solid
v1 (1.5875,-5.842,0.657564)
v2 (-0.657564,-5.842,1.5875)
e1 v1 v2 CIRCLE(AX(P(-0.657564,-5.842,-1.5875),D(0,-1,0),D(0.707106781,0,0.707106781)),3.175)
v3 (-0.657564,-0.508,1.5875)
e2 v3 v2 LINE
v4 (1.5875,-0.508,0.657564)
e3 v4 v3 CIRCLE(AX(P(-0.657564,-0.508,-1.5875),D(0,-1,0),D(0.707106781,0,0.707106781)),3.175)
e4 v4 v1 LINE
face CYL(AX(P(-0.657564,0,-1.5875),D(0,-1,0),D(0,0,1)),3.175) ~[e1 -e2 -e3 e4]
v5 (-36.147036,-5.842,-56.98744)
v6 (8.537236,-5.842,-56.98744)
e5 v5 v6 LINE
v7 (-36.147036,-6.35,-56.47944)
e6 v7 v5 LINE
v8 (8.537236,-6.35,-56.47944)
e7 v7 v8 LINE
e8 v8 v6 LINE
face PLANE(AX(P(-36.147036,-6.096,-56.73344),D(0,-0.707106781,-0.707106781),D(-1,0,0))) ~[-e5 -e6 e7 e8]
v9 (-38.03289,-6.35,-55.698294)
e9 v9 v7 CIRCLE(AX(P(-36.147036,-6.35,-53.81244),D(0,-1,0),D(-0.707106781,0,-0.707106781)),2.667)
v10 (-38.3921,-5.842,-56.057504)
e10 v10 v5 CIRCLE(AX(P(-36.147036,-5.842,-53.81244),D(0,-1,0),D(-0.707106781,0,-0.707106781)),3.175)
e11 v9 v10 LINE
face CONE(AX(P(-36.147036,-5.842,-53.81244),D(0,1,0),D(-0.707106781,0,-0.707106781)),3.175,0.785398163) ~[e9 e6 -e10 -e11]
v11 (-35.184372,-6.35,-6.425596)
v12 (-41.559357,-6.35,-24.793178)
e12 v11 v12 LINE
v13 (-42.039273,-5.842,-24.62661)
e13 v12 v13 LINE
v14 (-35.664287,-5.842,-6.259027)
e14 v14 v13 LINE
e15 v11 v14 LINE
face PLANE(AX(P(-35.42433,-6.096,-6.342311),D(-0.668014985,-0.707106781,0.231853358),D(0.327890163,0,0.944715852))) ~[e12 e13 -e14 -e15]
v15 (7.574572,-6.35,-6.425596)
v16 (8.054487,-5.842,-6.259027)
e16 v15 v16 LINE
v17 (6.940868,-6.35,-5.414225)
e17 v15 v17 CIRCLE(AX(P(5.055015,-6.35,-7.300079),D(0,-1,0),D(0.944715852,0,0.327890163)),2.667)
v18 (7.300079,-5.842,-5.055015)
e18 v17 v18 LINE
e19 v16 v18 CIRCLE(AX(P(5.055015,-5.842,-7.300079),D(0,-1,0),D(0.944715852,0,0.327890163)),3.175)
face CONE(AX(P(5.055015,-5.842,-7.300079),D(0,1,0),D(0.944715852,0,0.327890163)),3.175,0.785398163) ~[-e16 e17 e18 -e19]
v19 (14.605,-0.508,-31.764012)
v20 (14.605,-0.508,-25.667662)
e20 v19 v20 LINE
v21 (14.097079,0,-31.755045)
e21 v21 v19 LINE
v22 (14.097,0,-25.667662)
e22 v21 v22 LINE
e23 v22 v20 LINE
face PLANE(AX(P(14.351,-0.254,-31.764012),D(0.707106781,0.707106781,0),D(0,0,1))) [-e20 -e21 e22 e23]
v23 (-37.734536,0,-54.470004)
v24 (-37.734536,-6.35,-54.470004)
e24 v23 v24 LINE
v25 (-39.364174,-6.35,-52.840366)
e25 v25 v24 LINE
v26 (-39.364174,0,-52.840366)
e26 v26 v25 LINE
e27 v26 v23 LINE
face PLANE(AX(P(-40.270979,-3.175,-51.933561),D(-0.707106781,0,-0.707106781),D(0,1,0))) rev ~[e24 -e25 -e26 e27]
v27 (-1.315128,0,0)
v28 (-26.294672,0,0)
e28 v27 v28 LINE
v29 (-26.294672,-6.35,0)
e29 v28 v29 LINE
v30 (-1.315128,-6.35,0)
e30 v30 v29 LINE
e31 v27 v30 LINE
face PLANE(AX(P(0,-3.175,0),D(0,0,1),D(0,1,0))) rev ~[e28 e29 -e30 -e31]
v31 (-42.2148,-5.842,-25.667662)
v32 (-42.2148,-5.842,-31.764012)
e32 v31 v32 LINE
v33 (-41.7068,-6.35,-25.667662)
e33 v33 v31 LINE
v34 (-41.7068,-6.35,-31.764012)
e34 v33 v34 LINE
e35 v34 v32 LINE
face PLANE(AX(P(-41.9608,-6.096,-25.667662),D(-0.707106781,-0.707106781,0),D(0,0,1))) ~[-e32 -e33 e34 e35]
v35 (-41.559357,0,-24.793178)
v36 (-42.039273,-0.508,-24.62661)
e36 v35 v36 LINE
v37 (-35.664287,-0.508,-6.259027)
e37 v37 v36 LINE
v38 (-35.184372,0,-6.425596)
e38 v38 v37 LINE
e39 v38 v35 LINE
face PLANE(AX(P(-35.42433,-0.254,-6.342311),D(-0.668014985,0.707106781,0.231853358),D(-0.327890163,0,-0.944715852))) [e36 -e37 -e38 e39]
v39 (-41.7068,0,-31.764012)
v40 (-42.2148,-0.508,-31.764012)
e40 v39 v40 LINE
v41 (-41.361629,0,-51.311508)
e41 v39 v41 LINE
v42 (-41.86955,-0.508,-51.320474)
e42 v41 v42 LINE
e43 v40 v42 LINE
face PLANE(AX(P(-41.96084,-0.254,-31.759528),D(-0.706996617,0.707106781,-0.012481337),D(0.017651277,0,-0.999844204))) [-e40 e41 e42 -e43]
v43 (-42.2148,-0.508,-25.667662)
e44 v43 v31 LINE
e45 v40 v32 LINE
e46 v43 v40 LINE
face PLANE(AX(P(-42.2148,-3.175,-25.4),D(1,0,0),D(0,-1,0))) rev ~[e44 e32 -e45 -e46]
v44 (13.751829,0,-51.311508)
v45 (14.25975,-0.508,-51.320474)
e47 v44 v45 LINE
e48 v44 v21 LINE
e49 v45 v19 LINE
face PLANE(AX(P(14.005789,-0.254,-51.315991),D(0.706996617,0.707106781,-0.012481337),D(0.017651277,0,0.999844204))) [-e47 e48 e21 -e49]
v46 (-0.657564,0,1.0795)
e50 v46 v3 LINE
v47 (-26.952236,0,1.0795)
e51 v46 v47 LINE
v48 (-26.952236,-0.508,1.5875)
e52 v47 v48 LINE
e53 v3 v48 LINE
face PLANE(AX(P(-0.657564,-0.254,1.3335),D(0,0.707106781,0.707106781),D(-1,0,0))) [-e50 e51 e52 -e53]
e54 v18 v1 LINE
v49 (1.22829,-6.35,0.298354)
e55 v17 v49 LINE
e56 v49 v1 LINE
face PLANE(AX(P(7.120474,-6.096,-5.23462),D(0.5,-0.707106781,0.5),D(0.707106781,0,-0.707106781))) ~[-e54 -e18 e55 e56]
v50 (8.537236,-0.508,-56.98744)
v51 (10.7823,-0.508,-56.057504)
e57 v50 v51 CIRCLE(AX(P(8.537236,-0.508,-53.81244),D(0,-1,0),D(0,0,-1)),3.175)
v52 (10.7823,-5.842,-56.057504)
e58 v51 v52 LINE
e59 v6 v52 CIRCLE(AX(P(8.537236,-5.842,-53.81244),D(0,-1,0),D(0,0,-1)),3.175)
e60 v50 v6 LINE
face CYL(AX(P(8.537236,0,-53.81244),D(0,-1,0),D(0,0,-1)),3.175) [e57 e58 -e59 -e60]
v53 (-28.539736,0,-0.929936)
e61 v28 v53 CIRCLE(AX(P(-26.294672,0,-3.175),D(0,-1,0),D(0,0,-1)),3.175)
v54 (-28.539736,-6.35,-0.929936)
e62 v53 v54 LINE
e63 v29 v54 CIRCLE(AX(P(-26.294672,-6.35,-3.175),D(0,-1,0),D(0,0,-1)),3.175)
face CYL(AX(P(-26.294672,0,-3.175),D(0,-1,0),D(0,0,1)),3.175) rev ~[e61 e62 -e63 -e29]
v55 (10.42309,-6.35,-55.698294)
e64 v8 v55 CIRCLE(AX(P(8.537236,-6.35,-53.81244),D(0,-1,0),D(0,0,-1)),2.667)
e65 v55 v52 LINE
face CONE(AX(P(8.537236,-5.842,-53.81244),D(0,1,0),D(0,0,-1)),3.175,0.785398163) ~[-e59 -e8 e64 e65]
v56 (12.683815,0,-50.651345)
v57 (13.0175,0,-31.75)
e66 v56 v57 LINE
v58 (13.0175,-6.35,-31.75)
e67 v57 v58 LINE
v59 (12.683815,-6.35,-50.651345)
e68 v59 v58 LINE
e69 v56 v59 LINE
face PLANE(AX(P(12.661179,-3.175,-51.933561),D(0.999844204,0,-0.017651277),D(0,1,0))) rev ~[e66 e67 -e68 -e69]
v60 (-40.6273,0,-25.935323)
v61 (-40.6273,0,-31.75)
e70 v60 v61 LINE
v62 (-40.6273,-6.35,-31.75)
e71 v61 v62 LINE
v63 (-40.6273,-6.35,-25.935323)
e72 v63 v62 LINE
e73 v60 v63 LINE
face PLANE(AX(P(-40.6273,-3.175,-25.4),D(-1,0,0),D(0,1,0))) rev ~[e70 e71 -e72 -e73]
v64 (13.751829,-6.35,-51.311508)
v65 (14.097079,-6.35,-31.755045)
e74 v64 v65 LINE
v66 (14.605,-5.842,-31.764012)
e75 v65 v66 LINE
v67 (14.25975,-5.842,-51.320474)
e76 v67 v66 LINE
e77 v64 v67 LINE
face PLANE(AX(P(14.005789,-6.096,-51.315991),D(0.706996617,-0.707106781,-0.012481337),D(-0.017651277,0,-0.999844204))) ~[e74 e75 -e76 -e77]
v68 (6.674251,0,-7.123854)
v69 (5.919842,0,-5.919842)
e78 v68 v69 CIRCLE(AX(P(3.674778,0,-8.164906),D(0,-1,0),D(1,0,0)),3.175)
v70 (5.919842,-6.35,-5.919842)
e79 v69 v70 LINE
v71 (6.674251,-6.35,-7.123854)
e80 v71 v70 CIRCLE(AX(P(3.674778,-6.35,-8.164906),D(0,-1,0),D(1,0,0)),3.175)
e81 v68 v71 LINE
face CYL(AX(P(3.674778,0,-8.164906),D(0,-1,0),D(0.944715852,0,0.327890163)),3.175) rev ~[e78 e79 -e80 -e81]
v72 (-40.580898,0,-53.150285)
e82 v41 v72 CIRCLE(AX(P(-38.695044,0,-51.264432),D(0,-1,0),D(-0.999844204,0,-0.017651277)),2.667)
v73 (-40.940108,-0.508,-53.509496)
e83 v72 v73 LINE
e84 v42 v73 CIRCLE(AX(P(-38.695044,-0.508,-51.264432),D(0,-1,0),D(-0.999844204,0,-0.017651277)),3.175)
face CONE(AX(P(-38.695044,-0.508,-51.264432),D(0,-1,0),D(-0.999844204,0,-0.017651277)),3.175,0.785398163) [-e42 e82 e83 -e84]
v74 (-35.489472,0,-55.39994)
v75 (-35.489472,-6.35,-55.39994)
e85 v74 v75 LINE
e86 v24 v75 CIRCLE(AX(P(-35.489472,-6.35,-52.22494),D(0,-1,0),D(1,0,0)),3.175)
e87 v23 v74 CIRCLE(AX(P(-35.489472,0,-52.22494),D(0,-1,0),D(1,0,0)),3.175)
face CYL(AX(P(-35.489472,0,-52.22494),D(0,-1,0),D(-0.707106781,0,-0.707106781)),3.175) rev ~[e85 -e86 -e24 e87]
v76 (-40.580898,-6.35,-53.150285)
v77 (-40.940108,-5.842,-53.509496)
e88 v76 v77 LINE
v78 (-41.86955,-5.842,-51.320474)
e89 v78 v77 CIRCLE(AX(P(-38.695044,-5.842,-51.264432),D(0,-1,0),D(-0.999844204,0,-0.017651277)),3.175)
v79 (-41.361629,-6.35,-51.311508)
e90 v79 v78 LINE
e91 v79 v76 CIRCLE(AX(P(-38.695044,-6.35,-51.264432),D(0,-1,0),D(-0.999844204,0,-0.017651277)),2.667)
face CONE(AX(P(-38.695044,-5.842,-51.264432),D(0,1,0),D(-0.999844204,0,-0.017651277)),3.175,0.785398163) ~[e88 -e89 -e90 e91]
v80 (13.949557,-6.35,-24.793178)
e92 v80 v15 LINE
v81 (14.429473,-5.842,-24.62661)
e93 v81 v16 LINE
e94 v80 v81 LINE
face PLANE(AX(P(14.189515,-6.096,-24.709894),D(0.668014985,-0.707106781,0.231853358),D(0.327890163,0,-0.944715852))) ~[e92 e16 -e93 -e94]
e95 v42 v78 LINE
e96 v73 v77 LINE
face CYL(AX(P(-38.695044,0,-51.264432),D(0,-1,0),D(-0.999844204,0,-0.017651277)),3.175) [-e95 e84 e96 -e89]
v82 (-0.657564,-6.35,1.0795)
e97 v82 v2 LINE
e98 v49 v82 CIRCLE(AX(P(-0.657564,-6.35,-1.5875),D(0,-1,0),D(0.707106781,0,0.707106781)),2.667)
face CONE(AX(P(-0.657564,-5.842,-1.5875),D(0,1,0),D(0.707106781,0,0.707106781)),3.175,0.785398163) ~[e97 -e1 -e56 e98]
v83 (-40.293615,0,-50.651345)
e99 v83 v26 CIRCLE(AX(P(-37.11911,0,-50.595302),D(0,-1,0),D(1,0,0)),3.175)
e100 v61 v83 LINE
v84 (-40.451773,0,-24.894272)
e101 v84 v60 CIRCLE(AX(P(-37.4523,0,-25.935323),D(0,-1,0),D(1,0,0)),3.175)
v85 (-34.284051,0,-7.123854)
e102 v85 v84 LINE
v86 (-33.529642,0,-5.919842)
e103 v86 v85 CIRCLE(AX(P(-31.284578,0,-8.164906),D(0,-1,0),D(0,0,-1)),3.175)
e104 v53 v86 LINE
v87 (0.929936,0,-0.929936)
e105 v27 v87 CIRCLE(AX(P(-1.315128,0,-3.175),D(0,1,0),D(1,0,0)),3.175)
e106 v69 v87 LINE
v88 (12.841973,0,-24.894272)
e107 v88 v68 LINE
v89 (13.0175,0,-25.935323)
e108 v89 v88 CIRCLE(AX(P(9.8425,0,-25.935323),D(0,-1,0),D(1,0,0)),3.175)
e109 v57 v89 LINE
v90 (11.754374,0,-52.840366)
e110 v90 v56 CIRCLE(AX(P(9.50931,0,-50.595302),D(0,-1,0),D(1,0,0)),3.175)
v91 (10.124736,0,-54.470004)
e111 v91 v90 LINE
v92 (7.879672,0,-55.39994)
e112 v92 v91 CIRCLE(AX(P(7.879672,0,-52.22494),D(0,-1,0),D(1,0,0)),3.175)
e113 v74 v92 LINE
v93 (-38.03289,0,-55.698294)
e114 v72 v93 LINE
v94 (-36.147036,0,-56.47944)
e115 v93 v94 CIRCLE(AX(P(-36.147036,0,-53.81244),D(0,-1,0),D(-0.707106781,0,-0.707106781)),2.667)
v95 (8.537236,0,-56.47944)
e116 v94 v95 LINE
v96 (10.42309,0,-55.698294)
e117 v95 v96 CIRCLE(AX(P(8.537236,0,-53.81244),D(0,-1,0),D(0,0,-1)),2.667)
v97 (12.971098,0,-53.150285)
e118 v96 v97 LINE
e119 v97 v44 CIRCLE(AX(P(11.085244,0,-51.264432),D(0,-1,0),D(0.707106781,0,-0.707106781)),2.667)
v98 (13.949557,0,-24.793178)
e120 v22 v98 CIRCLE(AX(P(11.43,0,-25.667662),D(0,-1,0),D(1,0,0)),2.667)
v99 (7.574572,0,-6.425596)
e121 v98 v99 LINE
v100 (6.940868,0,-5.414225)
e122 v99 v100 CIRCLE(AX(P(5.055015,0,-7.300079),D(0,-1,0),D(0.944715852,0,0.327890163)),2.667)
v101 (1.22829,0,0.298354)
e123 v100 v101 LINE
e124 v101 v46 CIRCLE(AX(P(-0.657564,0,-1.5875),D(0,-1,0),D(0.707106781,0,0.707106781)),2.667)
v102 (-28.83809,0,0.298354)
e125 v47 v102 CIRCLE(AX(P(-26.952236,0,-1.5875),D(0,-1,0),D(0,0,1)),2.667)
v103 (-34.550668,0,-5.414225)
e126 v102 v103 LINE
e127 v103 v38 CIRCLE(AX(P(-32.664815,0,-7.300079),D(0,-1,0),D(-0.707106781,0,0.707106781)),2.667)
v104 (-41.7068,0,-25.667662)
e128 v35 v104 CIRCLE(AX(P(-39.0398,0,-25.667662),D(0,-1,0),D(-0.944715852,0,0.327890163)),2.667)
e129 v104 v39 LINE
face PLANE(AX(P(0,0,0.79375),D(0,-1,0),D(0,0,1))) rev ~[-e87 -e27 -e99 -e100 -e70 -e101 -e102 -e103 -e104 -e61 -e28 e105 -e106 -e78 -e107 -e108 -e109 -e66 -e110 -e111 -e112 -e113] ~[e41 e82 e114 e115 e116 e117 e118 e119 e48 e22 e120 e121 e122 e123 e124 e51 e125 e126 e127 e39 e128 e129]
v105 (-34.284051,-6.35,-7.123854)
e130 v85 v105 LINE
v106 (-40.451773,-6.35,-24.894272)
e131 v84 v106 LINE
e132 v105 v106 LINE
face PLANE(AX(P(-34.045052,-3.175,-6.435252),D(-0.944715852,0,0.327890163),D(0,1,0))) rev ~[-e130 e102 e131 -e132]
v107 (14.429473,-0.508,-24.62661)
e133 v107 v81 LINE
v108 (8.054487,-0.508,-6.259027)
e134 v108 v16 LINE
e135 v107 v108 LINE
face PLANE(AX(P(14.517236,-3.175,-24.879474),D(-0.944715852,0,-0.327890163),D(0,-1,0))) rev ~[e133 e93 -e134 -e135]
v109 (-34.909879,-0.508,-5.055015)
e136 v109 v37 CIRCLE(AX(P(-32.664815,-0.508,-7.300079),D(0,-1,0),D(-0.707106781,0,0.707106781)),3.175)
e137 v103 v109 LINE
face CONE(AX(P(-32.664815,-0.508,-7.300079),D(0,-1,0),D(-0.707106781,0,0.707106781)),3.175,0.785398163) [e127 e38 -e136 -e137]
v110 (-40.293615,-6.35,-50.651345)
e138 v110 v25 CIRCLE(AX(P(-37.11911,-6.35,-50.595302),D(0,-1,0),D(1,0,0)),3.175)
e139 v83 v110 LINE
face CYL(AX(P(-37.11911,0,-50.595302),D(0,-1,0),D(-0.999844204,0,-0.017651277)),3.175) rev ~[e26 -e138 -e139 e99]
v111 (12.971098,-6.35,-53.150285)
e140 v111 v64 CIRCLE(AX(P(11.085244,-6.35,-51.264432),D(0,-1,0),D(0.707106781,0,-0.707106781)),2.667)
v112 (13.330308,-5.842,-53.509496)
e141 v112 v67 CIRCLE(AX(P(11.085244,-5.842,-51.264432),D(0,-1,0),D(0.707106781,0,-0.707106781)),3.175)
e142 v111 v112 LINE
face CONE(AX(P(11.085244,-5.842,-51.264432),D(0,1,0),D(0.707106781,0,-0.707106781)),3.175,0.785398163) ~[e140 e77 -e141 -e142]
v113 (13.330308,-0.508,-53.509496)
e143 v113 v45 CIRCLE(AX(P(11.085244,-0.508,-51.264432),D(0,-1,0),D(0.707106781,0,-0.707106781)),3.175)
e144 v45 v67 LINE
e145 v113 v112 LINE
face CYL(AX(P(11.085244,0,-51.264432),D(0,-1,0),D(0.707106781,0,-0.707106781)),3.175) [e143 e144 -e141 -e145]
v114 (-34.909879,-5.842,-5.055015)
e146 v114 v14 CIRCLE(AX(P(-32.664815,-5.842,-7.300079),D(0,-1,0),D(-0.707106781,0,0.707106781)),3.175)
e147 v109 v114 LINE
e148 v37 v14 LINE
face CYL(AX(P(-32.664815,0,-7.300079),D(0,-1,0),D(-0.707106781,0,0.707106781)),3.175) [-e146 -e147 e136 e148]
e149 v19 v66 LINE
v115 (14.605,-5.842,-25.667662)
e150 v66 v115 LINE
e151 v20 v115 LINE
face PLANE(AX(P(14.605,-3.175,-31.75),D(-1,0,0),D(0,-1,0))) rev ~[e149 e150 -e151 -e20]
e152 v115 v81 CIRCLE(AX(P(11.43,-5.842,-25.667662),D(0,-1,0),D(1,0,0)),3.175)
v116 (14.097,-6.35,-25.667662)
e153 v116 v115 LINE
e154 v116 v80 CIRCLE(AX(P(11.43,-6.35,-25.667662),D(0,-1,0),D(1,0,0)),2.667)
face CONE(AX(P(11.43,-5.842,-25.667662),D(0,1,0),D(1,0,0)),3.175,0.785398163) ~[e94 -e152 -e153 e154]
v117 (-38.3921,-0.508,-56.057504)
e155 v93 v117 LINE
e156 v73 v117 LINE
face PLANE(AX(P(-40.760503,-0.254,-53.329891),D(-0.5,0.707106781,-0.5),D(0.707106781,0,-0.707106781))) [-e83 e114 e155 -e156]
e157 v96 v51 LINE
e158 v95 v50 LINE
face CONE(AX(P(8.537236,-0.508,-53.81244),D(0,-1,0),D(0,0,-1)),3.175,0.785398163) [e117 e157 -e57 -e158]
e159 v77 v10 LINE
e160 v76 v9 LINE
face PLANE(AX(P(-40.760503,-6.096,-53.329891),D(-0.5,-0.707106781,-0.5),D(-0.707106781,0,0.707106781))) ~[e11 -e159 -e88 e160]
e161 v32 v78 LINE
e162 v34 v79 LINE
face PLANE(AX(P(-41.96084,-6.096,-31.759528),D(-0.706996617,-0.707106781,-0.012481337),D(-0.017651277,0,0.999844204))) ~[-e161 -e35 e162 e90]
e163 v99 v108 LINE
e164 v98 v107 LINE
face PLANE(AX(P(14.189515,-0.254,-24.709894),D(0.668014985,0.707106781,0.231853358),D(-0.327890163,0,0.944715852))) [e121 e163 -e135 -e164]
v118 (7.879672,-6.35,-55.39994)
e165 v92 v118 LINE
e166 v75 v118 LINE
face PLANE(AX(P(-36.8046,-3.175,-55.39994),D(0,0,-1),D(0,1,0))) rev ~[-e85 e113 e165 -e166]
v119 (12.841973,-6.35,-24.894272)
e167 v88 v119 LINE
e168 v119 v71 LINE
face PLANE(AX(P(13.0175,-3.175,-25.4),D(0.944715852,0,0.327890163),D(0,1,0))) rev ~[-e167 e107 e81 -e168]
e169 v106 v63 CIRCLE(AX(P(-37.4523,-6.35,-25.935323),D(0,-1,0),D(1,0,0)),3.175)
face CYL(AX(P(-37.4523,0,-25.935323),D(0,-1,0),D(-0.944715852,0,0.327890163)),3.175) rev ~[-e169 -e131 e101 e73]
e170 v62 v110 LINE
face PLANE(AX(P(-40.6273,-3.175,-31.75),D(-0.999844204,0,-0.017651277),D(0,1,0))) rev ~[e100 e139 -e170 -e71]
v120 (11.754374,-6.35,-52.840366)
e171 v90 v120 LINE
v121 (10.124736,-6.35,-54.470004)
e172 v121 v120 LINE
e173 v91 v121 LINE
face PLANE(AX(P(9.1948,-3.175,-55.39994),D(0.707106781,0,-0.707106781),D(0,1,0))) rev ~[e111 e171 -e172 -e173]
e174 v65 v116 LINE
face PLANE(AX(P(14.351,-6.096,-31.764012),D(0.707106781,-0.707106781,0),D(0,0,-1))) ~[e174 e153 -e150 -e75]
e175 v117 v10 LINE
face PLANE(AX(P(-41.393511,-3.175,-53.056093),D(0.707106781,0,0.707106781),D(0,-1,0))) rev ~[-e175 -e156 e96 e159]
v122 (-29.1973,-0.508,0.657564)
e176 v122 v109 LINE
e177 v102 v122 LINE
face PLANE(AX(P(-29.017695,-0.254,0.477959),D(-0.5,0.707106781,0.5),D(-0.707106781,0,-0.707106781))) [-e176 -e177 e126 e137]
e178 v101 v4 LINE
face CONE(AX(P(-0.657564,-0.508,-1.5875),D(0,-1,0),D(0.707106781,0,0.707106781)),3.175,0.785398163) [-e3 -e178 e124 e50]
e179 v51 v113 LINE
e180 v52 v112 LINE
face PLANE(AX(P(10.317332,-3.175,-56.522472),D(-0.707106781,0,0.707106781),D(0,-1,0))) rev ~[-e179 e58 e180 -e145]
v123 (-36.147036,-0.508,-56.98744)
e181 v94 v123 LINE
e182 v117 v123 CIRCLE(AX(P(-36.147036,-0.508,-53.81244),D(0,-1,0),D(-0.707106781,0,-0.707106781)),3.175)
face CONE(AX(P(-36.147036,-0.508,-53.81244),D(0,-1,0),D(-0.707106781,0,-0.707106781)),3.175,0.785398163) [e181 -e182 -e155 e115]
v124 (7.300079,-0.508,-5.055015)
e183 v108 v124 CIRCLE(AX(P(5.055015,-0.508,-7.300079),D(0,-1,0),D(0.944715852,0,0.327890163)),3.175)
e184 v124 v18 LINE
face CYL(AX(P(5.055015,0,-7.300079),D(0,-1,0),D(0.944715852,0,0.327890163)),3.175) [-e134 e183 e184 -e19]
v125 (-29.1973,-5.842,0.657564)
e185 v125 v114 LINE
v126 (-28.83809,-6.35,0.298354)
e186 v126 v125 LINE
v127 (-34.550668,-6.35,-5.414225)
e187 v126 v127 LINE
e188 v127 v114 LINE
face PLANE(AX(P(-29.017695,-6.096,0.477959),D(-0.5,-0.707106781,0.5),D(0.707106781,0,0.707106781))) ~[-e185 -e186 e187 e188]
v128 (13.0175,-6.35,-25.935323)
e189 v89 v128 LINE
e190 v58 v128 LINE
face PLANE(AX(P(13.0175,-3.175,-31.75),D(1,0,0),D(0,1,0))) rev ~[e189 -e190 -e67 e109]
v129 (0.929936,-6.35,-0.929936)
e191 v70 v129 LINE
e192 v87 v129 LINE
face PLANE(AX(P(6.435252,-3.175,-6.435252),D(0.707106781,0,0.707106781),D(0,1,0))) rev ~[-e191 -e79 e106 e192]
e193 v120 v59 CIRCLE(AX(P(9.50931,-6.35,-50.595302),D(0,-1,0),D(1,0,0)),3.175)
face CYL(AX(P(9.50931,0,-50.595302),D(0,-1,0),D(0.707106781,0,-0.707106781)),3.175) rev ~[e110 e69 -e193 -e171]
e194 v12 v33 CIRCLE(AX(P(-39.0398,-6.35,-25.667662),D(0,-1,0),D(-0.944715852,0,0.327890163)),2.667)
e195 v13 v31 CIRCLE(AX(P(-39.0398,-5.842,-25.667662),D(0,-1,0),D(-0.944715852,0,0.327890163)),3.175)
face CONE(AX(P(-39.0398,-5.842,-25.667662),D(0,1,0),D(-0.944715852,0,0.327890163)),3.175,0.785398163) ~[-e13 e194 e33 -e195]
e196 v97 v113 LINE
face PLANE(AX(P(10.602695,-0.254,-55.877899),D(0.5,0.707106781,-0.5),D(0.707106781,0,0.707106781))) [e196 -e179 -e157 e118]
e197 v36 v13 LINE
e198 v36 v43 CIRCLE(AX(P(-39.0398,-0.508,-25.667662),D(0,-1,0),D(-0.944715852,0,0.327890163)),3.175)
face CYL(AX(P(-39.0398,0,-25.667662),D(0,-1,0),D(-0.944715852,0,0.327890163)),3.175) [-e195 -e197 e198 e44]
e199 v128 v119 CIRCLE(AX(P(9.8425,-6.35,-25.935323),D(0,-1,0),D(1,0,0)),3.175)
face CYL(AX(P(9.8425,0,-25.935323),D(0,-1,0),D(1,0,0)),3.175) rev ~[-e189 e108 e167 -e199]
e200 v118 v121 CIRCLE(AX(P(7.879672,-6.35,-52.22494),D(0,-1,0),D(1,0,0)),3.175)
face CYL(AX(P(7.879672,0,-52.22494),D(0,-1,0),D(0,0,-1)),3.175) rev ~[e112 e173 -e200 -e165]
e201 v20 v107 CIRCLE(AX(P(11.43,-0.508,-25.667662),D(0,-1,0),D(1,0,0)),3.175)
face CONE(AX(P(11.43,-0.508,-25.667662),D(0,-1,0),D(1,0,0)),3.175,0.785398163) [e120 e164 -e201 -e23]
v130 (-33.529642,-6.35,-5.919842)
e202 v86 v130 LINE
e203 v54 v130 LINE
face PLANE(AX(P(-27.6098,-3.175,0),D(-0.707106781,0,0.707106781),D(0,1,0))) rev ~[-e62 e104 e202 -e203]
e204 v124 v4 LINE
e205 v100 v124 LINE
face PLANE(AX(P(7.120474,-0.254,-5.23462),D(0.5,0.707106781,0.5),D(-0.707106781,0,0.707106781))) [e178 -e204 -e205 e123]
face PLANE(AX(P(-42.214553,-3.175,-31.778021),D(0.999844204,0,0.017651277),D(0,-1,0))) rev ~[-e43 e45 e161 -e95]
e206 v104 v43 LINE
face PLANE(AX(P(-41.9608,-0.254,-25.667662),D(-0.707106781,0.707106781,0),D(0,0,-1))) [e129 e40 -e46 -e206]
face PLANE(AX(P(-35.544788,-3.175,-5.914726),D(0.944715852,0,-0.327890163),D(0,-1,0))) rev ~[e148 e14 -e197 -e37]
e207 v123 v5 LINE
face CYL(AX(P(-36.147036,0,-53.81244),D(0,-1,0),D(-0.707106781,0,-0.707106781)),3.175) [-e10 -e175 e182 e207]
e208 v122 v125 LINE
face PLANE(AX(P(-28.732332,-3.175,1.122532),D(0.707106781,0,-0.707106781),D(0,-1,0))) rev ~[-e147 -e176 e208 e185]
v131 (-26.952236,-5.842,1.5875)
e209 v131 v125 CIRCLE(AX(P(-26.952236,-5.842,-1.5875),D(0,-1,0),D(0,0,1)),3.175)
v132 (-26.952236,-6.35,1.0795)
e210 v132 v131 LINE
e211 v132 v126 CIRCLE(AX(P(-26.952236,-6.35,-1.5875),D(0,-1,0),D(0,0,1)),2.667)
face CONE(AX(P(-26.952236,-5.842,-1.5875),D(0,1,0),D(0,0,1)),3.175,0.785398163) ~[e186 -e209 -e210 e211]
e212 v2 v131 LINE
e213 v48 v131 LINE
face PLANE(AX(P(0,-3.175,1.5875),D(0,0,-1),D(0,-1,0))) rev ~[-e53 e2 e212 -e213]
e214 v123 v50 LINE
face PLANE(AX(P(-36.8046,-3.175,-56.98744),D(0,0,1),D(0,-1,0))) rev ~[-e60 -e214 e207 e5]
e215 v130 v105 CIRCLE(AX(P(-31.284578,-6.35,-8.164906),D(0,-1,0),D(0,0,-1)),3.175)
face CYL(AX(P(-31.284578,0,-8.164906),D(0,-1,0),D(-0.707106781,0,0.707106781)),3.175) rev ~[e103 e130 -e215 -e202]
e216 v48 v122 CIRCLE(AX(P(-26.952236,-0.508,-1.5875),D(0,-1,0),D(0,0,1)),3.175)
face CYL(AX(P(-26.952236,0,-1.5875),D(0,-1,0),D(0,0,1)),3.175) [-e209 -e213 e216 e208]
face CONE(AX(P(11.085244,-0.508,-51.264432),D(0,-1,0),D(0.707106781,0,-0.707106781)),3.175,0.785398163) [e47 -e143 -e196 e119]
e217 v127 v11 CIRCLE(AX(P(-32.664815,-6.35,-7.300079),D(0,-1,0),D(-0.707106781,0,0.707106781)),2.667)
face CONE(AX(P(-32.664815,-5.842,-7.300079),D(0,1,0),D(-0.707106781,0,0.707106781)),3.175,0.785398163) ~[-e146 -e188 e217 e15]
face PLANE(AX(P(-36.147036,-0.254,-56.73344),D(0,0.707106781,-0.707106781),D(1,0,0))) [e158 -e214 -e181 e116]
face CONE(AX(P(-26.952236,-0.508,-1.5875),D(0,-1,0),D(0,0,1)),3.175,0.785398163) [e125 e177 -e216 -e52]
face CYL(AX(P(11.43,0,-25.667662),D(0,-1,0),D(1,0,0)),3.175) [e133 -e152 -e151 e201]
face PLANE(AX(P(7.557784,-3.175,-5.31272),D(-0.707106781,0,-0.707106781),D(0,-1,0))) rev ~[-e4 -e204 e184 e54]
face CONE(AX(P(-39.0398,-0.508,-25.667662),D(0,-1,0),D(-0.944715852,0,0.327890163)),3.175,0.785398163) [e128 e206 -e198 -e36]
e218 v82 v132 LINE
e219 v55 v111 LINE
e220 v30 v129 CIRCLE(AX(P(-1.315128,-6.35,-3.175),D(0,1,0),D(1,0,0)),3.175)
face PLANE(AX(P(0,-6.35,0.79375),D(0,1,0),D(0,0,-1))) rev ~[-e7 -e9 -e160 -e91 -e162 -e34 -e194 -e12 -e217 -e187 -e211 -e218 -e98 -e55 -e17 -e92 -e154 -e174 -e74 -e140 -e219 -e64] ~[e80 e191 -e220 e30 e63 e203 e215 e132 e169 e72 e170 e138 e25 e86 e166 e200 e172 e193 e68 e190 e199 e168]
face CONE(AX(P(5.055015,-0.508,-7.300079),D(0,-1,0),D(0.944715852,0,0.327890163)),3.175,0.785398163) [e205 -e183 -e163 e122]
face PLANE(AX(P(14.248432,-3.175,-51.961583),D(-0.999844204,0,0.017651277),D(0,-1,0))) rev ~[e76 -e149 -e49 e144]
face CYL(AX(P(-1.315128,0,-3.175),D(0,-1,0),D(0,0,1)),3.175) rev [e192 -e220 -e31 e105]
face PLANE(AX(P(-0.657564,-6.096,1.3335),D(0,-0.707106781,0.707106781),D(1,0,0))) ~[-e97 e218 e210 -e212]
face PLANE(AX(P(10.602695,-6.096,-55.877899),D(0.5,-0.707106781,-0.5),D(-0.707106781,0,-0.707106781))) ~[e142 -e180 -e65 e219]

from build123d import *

# Parameters (mm, degrees)
SKETCH1_W     = 1.5875
SKETCH1_H     = 6.35
FILLET1_R     = 3.175
CHAMFER1_SIZE = 0.508


with BuildPart() as part:
    # Sweep1: sweep along a path in Sketch2
    with BuildLine(Plane(origin=(0, 0, 0), x_dir=(1, 0, 0), z_dir=(0, 1, 0))) as sweep1_path:
        Line((0, 0), (-27.6098, 0))
        Line((-27.6098, 0), (-34.045051536, 6.435251536))
        Line((-34.045051536, 6.435251536), (-40.6273, 25.4))
        Line((-40.6273, 25.4), (-40.6273, 31.75))
        Line((-40.6273, 31.75), (-40.270978863, 51.933561137))
        Line((-40.270978863, 51.933561137), (-36.8046, 55.39994))
        Line((-36.8046, 55.39994), (9.1948, 55.39994))
        Line((9.1948, 55.39994), (12.661178863, 51.933561137))
        Line((12.661178863, 51.933561137), (13.0175, 31.75))
        Line((13.0175, 31.75), (13.0175, 25.4))
        Line((13.0175, 25.4), (6.435251536, 6.435251536))
        Line((6.435251536, 6.435251536), (0, 0))
    # Sketch1 → Sweep1 (sweep)
    with BuildSketch(Plane(origin=(0, 0, 0), x_dir=(0, 0, -1), z_dir=(1, 0, 0))):
        with Locations((-0.79375, -3.175)):
            Rectangle(SKETCH1_W, SKETCH1_H)
    sweep(path=sweep1_path.line, transition=Transition.RIGHT)

    # Fillet1
    fillet1_edges = [part.edges().sort_by_distance(p)[0] for p in [
        (7.815488456, -3.175, -5.570424426),
        (6.435251536, -3.175, -6.435251536),
        (-42.2148, -3.175, -25.132338463),
        (-40.6273, -3.175, -25.4),
        (-27.6098, -3.175, 0),
        (14.605, -3.175, -25.132338463),
        (13.0175, -3.175, -25.4),
        (-42.2148, -3.175, -31.764011792),
        (-28.26736403, -3.175, 1.5875),
        (-40.6273, -3.175, -31.75),
        (0.65756403, -3.175, 1.5875),
        (0, -3.175, 0),
        (14.605, -3.175, -31.764011792),
        (13.0175, -3.175, -31.75),
        (-41.846913397, -3.175, -52.602690633),
        (-40.270978863, -3.175, -51.933561137),
        (14.237113397, -3.175, -52.602690633),
        (12.661178863, -3.175, -51.933561137),
        (-37.46216403, -3.175, -56.98744),
        (-36.8046, -3.175, -55.39994),
        (9.85236403, -3.175, -56.98744),
        (9.1948, -3.175, -55.39994),
        (-35.425288456, -3.175, -5.570424426),
        (-34.045051536, -3.175, -6.435251536),
    ]]
    fillet(fillet1_edges, radius=FILLET1_R)

    # Chamfer1
    chamfer1_edges = [part.edges().sort_by_distance(p)[0] for p in [
        (-39.666104179, -6.35, -54.783499851),
        (-39.666104179, 0, -54.783499851),
        (-37.362055867, 0, -56.745757516),
        (-41.617523848, 0, -52.505293622),
        (-42.042174838, 0, -41.542243119),
        (-42.042174838, 0, -41.542243119),
        (-41.617523848, 0, -52.505293622),
        (-42.042174838, -6.35, -41.542243119),
        (-42.042174838, -6.35, -41.542243119),
        (-41.617523848, -6.35, -52.505293622),
        (-37.362055867, -6.35, -56.745757516),
        (-41.617523848, -6.35, -52.505293622),
        (-42.2148, 0, -28.715836665),
        (-42.170610697, 0, -25.139789031),
        (-42.2148, 0, -28.715836665),
        (-42.2148, -6.35, -28.715836665),
        (-42.170610697, -6.35, -25.139789031),
        (-42.2148, -6.35, -28.715836665),
        (-38.851780138, 0, -15.442818824),
        (-35.355298477, 0, -5.614278659),
        (-42.170610697, 0, -25.139789031),
        (-38.851780138, -6.35, -15.442818824),
        (-35.355298477, -6.35, -5.614278659),
        (-42.170610697, -6.35, -25.139789031),
        (-32.053589323, 0, -2.198725293),
        (-28.167255867, 0, 1.345817516),
        (-35.355298477, 0, -5.614278659),
        (-32.053589323, -6.35, -2.198725293),
        (-28.167255867, -6.35, 1.345817516),
        (-35.355298477, -6.35, -5.614278659),
        (-13.8049, -6.35, -56.98744),
        (-13.8049, 0, -56.98744),
        (9.752255867, 0, -56.745757516),
        (-37.362055867, 0, -56.745757516),
        (9.752255867, -6.35, -56.745757516),
        (-37.362055867, -6.35, -56.745757516),
        (12.056304179, -6.35, -54.783499851),
        (12.056304179, 0, -54.783499851),
        (14.007723848, 0, -52.505293622),
        (9.752255867, 0, -56.745757516),
        (14.007723848, -6.35, -52.505293622),
        (9.752255867, -6.35, -56.745757516),
        (14.605, -6.35, -28.715836665),
        (14.605, 0, -28.715836665),
        (14.560810697, 0, -25.139789031),
        (14.605, 0, -28.715836665),
        (14.432374838, 0, -41.542243119),
        (14.007723848, 0, -52.505293622),
        (14.432374838, 0, -41.542243119),
        (14.432374838, -6.35, -41.542243119),
        (14.007723848, -6.35, -52.505293622),
        (14.432374838, -6.35, -41.542243119),
        (14.560810697, -6.35, -25.139789031),
        (14.605, -6.35, -28.715836665),
        (11.241980138, -6.35, -15.442818824),
        (11.241980138, 0, -15.442818824),
        (7.745498477, 0, -5.614278659),
        (14.560810697, 0, -25.139789031),
        (7.745498477, -6.35, -5.614278659),
        (14.560810697, -6.35, -25.139789031),
        (4.443789323, -6.35, -2.198725293),
        (4.443789323, 0, -2.198725293),
        (0.557455867, 0, 1.345817516),
        (7.745498477, 0, -5.614278659),
        (0.557455867, -6.35, 1.345817516),
        (7.745498477, -6.35, -5.614278659),
        (-13.8049, 0, 1.5875),
        (-13.8049, -6.35, 1.5875),
        (-28.167255867, 0, 1.345817516),
        (0.557455867, 0, 1.345817516),
        (-28.167255867, -6.35, 1.345817516),
        (0.557455867, -6.35, 1.345817516),
    ]]
    chamfer(chamfer1_edges, length=CHAMFER1_SIZE)


solid = part.part
